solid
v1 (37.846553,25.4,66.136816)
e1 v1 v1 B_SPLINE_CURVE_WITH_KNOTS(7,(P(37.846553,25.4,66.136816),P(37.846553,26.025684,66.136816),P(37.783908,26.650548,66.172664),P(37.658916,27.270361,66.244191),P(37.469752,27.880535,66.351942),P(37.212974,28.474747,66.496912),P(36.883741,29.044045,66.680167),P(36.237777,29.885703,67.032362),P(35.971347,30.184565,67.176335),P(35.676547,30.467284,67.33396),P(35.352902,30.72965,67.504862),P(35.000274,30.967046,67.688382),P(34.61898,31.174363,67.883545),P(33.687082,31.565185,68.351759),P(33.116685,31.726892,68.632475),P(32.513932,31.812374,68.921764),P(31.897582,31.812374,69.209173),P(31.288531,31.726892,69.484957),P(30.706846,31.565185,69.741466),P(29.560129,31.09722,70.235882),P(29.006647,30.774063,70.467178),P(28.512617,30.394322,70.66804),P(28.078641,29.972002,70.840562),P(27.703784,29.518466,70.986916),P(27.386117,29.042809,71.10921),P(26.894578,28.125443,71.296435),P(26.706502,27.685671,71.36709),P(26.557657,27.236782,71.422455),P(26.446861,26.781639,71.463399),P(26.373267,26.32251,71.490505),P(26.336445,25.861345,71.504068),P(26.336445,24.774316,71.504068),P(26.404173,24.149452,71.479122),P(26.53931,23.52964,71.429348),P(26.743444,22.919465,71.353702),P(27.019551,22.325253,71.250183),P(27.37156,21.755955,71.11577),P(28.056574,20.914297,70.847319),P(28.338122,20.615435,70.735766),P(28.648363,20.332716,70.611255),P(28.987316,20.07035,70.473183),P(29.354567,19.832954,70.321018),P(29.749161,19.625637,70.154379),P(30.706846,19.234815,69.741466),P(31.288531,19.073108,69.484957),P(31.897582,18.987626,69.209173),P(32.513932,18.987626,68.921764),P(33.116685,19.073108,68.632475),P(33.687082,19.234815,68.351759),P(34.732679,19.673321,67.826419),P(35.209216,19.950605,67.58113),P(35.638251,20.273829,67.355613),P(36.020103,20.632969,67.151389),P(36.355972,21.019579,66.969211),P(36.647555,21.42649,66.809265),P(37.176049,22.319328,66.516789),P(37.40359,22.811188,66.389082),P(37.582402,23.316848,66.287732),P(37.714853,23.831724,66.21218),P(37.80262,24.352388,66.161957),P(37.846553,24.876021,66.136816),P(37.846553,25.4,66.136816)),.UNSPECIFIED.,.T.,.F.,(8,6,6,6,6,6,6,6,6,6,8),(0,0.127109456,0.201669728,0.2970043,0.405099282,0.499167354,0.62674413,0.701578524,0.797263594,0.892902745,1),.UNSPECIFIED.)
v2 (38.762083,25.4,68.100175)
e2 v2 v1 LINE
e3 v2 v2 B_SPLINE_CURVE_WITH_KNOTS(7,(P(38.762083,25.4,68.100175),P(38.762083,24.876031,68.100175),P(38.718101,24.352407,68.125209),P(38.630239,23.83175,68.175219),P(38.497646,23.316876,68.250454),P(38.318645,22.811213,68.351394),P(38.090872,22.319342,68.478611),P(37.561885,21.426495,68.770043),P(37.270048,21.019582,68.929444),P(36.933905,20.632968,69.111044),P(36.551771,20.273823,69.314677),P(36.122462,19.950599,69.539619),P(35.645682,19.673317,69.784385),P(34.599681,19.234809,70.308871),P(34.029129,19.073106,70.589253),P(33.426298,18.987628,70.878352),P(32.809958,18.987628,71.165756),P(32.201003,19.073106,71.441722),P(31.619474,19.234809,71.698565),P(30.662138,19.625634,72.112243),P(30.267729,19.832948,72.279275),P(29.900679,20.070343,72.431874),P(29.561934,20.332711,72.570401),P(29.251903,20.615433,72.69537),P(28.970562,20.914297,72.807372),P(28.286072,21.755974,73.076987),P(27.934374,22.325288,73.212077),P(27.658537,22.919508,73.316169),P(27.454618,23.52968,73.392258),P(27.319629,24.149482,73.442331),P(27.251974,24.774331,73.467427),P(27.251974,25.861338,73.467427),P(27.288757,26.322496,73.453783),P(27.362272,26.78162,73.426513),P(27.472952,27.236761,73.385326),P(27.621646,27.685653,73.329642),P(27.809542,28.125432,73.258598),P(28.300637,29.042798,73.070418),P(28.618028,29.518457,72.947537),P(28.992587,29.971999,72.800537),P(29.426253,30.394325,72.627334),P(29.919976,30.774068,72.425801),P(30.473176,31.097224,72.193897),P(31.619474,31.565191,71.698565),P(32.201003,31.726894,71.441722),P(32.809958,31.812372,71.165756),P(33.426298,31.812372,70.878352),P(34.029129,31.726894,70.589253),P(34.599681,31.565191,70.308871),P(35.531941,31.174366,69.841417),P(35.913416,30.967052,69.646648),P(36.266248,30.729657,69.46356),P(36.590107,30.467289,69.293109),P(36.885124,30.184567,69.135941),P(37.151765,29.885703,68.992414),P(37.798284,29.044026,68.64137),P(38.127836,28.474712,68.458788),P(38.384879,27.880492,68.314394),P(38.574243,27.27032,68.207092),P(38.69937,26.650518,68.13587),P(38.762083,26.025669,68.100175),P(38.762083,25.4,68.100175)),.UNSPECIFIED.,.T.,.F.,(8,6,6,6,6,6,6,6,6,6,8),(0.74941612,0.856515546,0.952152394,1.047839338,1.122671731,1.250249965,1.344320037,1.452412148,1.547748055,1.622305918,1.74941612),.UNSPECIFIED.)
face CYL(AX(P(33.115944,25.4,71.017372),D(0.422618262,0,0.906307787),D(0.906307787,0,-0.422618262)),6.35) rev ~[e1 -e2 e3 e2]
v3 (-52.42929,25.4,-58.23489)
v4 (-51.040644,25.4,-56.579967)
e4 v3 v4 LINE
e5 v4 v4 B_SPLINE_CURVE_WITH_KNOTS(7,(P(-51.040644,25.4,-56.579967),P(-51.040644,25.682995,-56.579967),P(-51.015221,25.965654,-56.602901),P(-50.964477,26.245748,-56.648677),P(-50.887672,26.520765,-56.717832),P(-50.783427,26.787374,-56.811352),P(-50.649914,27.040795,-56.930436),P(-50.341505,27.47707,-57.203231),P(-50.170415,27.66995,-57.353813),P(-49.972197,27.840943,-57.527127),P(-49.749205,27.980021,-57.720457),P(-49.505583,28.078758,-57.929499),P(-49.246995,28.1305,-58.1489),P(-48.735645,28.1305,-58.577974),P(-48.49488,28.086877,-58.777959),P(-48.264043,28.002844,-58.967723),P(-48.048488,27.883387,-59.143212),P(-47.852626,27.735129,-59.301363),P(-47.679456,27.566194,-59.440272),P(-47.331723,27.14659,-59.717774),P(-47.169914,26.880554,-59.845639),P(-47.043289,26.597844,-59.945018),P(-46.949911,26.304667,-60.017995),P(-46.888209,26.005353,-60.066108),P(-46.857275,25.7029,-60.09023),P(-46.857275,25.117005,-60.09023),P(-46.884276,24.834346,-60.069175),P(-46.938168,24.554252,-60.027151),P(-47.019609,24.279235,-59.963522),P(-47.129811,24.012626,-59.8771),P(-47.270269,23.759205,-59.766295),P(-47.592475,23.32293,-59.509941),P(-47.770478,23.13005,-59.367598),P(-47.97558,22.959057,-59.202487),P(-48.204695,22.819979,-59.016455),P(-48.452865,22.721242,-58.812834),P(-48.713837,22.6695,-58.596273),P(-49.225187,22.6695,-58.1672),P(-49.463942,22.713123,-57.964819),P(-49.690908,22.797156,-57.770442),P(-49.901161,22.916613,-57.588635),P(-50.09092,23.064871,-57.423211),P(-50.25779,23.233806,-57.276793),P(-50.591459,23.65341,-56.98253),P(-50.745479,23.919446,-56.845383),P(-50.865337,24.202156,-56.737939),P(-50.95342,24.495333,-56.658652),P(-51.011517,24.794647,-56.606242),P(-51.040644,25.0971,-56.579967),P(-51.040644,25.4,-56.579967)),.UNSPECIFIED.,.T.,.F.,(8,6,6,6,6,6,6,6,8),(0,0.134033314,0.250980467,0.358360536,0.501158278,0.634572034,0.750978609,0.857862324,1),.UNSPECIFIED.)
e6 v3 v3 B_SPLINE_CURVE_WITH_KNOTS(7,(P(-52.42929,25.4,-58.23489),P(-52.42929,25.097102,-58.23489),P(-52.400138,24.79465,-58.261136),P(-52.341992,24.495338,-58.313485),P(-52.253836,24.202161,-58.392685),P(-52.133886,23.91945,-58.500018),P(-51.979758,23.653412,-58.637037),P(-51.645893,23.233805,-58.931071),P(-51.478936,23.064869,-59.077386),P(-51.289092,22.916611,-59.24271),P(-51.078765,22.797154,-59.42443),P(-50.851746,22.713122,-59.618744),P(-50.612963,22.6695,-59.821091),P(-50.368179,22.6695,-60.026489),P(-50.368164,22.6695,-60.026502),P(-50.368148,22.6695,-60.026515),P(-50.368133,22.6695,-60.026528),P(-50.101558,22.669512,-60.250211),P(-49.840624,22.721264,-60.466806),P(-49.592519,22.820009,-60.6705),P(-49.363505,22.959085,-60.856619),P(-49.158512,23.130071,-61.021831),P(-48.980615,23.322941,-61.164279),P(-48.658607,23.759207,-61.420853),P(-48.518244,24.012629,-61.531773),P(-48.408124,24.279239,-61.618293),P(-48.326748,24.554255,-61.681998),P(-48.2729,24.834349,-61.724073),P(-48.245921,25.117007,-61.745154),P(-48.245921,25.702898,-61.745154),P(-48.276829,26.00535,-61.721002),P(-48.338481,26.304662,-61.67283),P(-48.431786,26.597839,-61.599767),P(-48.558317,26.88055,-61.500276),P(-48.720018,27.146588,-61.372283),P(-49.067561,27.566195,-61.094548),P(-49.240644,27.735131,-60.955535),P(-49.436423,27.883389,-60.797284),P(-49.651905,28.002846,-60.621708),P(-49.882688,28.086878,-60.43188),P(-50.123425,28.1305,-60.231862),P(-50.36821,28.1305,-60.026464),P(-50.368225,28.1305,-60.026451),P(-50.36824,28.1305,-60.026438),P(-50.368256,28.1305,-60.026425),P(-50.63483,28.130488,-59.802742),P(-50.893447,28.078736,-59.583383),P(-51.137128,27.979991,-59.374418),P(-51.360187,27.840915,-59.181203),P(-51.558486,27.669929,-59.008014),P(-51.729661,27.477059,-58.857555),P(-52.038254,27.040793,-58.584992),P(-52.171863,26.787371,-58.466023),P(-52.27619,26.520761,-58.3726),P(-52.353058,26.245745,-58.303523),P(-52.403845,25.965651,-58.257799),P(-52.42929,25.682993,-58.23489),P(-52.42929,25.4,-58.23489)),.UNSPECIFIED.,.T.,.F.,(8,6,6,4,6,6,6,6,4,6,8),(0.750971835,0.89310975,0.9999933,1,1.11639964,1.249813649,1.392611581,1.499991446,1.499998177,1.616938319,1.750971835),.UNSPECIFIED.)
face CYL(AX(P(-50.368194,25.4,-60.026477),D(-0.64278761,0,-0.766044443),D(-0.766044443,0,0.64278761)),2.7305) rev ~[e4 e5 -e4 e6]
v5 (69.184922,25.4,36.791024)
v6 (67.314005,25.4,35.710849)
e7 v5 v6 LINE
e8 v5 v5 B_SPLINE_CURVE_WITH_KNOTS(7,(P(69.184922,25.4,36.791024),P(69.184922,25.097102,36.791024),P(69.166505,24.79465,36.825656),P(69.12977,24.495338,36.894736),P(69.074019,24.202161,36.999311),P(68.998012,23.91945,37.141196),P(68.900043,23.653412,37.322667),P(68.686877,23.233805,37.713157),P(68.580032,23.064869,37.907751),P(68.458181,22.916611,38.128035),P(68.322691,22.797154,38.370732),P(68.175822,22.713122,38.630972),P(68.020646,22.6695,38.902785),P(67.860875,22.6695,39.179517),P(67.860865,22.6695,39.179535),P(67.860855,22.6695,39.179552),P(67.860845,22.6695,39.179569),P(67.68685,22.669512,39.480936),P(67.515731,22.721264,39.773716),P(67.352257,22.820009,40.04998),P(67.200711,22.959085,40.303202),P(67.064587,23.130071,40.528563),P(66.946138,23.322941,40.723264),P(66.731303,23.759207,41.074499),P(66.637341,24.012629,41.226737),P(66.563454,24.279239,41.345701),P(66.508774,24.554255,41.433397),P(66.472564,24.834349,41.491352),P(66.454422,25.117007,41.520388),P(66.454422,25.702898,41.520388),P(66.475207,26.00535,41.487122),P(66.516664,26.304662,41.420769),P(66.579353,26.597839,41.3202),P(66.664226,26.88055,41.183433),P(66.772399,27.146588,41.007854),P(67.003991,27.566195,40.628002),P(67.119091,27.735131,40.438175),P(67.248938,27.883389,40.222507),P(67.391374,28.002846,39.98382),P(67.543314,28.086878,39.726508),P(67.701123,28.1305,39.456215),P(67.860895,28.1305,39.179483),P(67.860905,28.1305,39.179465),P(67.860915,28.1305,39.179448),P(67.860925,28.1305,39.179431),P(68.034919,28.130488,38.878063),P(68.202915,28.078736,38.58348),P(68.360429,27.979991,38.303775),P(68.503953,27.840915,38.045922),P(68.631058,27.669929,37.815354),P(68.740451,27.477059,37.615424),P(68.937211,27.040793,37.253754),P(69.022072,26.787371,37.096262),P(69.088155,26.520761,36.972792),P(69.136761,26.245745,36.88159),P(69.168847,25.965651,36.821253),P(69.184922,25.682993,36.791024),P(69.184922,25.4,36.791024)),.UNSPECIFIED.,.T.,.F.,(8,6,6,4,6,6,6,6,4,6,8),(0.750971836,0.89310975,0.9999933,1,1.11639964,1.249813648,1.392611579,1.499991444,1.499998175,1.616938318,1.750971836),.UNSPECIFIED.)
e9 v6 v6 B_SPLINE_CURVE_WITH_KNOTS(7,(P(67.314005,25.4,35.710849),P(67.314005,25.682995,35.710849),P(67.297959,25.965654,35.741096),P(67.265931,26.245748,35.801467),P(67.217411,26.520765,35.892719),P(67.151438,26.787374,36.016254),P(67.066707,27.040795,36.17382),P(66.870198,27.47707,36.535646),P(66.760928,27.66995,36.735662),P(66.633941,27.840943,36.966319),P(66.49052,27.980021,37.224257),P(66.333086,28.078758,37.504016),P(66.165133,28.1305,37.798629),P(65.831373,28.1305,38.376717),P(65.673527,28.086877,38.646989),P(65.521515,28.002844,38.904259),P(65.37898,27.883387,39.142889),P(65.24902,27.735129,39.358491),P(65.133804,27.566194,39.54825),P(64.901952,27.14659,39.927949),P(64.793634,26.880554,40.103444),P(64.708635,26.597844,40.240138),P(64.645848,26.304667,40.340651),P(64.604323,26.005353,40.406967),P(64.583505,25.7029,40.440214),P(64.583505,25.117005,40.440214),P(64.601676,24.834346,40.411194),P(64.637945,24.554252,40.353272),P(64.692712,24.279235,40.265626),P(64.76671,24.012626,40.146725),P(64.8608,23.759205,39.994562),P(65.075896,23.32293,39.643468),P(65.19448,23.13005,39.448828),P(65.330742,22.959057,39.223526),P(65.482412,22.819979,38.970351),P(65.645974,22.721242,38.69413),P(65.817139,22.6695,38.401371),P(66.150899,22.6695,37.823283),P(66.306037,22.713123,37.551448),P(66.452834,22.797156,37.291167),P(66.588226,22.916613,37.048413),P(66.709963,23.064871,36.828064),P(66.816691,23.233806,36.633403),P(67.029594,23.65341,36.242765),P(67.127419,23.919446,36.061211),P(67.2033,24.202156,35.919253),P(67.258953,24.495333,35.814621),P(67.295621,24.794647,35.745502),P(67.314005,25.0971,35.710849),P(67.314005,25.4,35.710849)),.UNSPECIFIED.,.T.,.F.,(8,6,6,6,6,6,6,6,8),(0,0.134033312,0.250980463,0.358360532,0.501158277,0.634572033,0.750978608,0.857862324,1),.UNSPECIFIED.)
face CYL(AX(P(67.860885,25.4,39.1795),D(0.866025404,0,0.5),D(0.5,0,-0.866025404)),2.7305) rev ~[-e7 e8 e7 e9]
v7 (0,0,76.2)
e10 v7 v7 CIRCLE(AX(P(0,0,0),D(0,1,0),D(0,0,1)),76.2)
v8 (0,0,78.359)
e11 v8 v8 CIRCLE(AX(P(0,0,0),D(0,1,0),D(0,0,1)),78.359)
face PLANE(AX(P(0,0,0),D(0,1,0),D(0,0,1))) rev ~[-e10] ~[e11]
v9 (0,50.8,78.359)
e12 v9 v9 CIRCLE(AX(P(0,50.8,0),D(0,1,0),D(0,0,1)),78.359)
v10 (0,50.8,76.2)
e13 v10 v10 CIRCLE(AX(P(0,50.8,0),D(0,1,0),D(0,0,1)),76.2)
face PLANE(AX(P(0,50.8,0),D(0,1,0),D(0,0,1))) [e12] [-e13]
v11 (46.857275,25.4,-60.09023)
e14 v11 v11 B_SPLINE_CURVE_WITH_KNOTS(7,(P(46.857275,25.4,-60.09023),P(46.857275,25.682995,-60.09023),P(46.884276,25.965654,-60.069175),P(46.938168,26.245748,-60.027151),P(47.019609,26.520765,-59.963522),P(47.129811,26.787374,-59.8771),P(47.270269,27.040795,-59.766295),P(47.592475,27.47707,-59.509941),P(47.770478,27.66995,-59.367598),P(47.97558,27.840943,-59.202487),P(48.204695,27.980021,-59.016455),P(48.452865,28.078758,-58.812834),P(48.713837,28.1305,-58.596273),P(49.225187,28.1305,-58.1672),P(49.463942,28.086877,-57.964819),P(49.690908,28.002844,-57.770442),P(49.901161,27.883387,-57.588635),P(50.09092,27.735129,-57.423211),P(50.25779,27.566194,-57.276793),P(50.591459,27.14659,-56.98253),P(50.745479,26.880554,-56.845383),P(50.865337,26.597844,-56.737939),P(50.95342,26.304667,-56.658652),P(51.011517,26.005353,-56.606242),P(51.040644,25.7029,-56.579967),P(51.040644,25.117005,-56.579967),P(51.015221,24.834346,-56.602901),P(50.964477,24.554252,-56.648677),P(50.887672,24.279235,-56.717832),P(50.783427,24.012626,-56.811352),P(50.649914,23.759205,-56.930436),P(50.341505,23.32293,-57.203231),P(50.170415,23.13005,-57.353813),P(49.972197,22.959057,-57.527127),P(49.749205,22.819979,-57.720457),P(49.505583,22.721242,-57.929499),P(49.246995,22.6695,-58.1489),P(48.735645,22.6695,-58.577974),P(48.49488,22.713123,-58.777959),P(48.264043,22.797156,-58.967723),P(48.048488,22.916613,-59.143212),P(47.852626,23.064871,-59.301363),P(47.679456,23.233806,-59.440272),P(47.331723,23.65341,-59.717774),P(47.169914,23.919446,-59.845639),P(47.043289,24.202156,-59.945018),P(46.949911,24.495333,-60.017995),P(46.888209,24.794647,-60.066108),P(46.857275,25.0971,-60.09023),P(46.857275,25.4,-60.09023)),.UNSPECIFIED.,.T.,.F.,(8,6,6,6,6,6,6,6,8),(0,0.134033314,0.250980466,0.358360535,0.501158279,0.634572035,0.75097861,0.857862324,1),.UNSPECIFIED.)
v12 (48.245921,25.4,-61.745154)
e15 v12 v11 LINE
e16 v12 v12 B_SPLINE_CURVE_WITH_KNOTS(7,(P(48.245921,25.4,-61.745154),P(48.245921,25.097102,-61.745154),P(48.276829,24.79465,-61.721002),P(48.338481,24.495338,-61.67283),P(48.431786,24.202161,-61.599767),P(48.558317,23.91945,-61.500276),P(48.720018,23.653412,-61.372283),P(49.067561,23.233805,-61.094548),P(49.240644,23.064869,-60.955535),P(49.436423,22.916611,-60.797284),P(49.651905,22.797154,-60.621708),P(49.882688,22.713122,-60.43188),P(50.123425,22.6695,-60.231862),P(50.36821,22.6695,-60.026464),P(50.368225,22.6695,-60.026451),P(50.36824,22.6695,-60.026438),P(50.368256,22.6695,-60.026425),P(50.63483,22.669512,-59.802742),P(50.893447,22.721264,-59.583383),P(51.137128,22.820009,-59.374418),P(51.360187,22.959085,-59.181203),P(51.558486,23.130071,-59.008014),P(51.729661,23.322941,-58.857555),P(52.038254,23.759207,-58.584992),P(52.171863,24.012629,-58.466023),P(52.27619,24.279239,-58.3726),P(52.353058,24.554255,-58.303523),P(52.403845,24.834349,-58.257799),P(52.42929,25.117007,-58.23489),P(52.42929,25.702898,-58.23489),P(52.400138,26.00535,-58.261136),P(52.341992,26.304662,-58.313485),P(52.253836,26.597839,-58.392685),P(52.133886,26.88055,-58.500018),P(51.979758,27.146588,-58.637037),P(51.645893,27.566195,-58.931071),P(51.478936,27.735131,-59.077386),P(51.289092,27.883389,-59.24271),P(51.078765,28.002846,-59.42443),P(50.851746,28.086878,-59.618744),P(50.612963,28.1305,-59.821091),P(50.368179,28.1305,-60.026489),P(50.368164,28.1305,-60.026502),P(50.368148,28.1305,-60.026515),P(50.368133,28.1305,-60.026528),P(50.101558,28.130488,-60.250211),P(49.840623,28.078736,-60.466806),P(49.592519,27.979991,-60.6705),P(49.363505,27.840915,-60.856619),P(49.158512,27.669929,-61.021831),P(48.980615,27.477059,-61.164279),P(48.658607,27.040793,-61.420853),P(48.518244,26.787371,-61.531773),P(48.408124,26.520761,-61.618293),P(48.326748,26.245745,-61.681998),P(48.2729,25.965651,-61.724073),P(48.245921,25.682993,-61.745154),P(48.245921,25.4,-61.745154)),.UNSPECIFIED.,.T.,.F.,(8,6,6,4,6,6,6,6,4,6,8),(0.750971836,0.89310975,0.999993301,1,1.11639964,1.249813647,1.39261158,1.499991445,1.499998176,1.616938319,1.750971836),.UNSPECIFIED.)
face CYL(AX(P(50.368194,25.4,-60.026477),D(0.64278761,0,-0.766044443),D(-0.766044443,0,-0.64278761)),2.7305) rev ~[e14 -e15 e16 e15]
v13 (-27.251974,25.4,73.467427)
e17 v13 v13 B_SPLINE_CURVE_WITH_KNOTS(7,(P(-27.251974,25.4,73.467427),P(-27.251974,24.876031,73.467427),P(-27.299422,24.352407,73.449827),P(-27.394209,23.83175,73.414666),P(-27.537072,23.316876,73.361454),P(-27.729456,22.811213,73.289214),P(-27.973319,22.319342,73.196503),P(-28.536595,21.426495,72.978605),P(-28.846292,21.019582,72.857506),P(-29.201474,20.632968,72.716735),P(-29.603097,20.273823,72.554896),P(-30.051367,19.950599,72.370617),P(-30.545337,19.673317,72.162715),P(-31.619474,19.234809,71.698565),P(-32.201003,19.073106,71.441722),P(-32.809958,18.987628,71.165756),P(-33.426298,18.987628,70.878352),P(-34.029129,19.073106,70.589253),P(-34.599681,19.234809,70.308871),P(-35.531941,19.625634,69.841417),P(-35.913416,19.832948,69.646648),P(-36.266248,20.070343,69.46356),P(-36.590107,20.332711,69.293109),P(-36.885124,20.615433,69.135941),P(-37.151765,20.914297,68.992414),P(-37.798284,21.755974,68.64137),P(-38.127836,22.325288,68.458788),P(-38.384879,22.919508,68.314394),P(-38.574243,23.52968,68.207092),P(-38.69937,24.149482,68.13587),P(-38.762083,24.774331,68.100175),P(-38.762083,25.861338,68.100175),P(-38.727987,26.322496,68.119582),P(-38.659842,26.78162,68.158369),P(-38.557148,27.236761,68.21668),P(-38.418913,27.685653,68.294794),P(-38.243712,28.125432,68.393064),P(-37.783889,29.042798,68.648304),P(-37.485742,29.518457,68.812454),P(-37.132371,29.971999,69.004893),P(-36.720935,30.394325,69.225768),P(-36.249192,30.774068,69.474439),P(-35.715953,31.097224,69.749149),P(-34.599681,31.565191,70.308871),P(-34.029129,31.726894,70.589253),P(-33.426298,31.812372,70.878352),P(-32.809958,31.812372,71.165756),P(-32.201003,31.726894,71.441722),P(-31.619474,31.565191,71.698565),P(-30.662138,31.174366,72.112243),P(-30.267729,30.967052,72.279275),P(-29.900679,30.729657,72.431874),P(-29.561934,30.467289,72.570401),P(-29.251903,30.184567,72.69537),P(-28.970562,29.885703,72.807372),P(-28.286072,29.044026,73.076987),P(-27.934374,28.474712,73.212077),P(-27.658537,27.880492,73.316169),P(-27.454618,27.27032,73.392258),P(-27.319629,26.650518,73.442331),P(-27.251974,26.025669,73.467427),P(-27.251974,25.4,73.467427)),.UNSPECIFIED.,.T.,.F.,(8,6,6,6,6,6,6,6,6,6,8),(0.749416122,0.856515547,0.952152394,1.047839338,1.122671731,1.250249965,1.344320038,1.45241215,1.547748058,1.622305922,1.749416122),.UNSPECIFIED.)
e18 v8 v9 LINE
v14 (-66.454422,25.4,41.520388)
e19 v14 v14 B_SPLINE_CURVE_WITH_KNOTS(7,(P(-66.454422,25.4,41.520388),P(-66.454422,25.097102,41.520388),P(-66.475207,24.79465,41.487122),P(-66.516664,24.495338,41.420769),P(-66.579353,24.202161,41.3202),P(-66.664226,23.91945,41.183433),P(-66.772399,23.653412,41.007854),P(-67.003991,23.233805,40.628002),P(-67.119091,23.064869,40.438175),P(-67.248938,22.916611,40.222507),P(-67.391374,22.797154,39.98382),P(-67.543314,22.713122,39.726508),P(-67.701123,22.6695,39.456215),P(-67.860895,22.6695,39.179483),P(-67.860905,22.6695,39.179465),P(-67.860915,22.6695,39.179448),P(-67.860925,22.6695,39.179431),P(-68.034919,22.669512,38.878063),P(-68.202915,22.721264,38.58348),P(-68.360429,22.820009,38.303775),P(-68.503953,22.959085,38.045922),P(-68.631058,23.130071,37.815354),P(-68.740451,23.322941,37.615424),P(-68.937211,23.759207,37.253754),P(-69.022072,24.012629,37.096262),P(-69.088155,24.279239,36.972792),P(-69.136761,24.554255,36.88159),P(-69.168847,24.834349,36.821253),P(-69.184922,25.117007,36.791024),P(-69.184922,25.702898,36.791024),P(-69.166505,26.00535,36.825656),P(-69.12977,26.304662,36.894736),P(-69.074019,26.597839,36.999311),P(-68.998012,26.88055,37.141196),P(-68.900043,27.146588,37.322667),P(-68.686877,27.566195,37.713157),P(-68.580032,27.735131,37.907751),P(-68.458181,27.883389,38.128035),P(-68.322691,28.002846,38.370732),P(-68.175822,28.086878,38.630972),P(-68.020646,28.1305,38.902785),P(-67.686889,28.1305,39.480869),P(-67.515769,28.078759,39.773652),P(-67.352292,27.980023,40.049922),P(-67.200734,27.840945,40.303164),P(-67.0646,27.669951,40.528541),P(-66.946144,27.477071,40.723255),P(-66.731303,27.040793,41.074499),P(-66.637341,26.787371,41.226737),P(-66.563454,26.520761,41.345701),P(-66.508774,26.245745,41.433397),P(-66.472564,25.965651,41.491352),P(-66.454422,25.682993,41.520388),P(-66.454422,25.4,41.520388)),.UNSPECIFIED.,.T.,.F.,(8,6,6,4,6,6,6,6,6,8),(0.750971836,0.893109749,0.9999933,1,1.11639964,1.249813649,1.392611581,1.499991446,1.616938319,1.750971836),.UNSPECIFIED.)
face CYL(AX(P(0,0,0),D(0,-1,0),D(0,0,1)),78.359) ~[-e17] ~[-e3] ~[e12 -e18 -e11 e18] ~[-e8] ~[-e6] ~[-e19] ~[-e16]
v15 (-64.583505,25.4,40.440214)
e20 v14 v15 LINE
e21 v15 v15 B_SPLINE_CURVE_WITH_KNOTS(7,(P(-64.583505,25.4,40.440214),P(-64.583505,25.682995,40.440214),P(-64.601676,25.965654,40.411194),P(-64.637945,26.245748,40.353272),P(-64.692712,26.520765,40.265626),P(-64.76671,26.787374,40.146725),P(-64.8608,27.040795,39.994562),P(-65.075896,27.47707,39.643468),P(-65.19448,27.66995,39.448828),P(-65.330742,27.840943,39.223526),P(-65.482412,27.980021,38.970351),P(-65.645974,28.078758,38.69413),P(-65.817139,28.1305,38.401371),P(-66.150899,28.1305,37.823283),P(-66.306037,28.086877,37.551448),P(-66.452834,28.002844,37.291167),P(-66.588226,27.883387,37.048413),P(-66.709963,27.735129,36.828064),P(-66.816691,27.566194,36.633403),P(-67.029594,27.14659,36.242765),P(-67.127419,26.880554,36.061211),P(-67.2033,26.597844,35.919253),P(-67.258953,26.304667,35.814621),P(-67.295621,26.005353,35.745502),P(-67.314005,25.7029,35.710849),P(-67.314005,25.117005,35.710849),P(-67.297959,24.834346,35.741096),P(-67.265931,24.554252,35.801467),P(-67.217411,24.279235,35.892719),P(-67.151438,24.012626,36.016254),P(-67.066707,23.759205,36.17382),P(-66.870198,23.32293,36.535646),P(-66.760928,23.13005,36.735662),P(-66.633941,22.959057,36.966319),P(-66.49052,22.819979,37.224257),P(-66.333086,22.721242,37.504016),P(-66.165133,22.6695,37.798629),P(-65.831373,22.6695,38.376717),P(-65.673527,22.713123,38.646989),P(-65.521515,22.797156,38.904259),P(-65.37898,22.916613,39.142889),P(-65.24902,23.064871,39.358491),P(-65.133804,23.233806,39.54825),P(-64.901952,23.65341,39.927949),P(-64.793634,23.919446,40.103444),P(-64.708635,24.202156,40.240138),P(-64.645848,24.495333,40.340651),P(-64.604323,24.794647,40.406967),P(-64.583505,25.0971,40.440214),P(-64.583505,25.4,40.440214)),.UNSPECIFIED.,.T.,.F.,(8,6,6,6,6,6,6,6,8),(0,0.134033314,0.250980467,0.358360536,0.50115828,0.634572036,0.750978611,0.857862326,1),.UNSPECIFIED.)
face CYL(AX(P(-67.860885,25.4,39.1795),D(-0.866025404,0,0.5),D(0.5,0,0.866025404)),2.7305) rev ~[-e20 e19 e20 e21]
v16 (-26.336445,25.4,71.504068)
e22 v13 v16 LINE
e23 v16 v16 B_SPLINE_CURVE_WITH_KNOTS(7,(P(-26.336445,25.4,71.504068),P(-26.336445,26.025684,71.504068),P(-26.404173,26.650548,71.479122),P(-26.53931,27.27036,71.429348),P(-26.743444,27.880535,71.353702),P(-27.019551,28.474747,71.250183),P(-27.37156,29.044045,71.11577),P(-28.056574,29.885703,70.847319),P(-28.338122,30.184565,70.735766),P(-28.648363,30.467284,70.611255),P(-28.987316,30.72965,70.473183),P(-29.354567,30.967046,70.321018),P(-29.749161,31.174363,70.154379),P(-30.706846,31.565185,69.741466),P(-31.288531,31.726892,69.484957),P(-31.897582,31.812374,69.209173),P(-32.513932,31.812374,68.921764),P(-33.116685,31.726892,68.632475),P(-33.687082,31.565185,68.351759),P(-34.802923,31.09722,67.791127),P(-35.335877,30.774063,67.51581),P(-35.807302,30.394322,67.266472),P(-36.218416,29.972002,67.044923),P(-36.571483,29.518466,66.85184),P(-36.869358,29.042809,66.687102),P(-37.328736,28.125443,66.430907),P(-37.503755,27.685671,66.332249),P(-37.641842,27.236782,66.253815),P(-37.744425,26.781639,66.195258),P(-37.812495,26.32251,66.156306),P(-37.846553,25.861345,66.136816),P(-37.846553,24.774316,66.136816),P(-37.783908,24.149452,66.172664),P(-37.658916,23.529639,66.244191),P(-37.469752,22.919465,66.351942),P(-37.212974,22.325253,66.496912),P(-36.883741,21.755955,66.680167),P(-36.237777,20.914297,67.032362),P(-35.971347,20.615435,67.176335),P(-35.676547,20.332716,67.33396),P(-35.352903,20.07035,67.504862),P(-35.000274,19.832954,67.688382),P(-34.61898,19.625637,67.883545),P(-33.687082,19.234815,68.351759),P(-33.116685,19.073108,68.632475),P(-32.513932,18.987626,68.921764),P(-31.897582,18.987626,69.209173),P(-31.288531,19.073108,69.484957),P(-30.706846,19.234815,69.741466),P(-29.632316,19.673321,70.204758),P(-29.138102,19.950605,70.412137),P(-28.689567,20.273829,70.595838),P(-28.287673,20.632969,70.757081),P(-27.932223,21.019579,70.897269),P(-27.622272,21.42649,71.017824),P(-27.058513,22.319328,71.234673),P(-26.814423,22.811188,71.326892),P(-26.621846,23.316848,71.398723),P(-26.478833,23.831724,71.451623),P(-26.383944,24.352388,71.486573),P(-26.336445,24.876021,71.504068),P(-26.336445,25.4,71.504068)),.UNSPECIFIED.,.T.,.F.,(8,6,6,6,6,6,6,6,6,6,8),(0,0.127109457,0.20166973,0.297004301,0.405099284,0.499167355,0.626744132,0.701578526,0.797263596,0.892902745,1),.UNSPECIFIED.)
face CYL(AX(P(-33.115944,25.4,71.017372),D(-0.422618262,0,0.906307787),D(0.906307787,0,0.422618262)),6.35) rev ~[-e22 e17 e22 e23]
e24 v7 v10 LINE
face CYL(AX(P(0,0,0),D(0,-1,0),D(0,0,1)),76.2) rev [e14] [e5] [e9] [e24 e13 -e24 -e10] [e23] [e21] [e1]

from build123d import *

# Parameters (mm, degrees)
SKETCH1_R           = 78.359
SKETCH1_R_2         = 76.2
BOSS_EXTRUDE1_DEPTH = 50.8
SKETCH4_R           = 6.35
CUT_EXTRUDE1_DEPTH  = 25.4
SKETCH5_R           = 6.35
CUT_EXTRUDE2_DEPTH  = 25.4
SKETCH6_R           = 2.7305
CUT_EXTRUDE3_DEPTH  = 2.54
CIRPATTERN1_COUNT   = 4
CIRPATTERN1_ANGLE   = 240


with BuildPart() as part:
    # Sketch1 → Boss-Extrude1 (new body)
    with BuildSketch(Plane(origin=(0, 0, 0), x_dir=(1, 0, 0), z_dir=(0, 1, 0))):
        with Locations(Location((0, 0, 0), (0, 0, 270))):
            Circle(SKETCH1_R)
        with Locations(Location((0, 0, 0), (0, 0, 270))):
            Circle(SKETCH1_R_2, mode=Mode.SUBTRACT)
    extrude(amount=BOSS_EXTRUDE1_DEPTH)

    # Sketch4 → Cut-Extrude1 (cut)
    with BuildSketch(Plane(origin=(33.115944372, 0, 71.017371884), x_dir=(0, -1, 0), z_dir=(0.4226182617407003, 0, 0.9063077870366496))):
        with Locations(Location((-25.4, 0, 0), (0, 0, 90))):
            Circle(SKETCH4_R)
    extrude(amount=-CUT_EXTRUDE1_DEPTH, mode=Mode.SUBTRACT)

    # Sketch5 → Cut-Extrude2 (cut)
    with BuildSketch(Plane(origin=(-33.115944372, 0, 71.017371884), x_dir=(0, -1, 0), z_dir=(-0.4226182617407003, 0, 0.9063077870366496))):
        with Locations(Location((-25.4, 0, 0), (0, 0, 90))):
            Circle(SKETCH5_R)
    extrude(amount=-CUT_EXTRUDE2_DEPTH, mode=Mode.SUBTRACT)

    # Sketch6 → Cut-Extrude3 (cut)
    with BuildSketch(Plane(origin=(67.860884615, 0, 39.1795), x_dir=(0, -1, 0), z_dir=(0.8660254037844416, 0, 0.49999999999999495))):
        with Locations(Location((-25.4, 0, 0), (0, 0, 90))):
            Circle(SKETCH6_R)
    cut_extrude3 = extrude(amount=-CUT_EXTRUDE3_DEPTH, mode=Mode.SUBTRACT)

    # CirPattern1: Cut-Extrude3 ×4 about axis
    cirpattern1_axis = Axis((0, 50.8, 0), (0, 1, 0))
    for i in range(1, CIRPATTERN1_COUNT):
        add(cut_extrude3.rotate(cirpattern1_axis, i * CIRPATTERN1_ANGLE / (CIRPATTERN1_COUNT - 1)), mode=Mode.SUBTRACT)


solid = part.part
